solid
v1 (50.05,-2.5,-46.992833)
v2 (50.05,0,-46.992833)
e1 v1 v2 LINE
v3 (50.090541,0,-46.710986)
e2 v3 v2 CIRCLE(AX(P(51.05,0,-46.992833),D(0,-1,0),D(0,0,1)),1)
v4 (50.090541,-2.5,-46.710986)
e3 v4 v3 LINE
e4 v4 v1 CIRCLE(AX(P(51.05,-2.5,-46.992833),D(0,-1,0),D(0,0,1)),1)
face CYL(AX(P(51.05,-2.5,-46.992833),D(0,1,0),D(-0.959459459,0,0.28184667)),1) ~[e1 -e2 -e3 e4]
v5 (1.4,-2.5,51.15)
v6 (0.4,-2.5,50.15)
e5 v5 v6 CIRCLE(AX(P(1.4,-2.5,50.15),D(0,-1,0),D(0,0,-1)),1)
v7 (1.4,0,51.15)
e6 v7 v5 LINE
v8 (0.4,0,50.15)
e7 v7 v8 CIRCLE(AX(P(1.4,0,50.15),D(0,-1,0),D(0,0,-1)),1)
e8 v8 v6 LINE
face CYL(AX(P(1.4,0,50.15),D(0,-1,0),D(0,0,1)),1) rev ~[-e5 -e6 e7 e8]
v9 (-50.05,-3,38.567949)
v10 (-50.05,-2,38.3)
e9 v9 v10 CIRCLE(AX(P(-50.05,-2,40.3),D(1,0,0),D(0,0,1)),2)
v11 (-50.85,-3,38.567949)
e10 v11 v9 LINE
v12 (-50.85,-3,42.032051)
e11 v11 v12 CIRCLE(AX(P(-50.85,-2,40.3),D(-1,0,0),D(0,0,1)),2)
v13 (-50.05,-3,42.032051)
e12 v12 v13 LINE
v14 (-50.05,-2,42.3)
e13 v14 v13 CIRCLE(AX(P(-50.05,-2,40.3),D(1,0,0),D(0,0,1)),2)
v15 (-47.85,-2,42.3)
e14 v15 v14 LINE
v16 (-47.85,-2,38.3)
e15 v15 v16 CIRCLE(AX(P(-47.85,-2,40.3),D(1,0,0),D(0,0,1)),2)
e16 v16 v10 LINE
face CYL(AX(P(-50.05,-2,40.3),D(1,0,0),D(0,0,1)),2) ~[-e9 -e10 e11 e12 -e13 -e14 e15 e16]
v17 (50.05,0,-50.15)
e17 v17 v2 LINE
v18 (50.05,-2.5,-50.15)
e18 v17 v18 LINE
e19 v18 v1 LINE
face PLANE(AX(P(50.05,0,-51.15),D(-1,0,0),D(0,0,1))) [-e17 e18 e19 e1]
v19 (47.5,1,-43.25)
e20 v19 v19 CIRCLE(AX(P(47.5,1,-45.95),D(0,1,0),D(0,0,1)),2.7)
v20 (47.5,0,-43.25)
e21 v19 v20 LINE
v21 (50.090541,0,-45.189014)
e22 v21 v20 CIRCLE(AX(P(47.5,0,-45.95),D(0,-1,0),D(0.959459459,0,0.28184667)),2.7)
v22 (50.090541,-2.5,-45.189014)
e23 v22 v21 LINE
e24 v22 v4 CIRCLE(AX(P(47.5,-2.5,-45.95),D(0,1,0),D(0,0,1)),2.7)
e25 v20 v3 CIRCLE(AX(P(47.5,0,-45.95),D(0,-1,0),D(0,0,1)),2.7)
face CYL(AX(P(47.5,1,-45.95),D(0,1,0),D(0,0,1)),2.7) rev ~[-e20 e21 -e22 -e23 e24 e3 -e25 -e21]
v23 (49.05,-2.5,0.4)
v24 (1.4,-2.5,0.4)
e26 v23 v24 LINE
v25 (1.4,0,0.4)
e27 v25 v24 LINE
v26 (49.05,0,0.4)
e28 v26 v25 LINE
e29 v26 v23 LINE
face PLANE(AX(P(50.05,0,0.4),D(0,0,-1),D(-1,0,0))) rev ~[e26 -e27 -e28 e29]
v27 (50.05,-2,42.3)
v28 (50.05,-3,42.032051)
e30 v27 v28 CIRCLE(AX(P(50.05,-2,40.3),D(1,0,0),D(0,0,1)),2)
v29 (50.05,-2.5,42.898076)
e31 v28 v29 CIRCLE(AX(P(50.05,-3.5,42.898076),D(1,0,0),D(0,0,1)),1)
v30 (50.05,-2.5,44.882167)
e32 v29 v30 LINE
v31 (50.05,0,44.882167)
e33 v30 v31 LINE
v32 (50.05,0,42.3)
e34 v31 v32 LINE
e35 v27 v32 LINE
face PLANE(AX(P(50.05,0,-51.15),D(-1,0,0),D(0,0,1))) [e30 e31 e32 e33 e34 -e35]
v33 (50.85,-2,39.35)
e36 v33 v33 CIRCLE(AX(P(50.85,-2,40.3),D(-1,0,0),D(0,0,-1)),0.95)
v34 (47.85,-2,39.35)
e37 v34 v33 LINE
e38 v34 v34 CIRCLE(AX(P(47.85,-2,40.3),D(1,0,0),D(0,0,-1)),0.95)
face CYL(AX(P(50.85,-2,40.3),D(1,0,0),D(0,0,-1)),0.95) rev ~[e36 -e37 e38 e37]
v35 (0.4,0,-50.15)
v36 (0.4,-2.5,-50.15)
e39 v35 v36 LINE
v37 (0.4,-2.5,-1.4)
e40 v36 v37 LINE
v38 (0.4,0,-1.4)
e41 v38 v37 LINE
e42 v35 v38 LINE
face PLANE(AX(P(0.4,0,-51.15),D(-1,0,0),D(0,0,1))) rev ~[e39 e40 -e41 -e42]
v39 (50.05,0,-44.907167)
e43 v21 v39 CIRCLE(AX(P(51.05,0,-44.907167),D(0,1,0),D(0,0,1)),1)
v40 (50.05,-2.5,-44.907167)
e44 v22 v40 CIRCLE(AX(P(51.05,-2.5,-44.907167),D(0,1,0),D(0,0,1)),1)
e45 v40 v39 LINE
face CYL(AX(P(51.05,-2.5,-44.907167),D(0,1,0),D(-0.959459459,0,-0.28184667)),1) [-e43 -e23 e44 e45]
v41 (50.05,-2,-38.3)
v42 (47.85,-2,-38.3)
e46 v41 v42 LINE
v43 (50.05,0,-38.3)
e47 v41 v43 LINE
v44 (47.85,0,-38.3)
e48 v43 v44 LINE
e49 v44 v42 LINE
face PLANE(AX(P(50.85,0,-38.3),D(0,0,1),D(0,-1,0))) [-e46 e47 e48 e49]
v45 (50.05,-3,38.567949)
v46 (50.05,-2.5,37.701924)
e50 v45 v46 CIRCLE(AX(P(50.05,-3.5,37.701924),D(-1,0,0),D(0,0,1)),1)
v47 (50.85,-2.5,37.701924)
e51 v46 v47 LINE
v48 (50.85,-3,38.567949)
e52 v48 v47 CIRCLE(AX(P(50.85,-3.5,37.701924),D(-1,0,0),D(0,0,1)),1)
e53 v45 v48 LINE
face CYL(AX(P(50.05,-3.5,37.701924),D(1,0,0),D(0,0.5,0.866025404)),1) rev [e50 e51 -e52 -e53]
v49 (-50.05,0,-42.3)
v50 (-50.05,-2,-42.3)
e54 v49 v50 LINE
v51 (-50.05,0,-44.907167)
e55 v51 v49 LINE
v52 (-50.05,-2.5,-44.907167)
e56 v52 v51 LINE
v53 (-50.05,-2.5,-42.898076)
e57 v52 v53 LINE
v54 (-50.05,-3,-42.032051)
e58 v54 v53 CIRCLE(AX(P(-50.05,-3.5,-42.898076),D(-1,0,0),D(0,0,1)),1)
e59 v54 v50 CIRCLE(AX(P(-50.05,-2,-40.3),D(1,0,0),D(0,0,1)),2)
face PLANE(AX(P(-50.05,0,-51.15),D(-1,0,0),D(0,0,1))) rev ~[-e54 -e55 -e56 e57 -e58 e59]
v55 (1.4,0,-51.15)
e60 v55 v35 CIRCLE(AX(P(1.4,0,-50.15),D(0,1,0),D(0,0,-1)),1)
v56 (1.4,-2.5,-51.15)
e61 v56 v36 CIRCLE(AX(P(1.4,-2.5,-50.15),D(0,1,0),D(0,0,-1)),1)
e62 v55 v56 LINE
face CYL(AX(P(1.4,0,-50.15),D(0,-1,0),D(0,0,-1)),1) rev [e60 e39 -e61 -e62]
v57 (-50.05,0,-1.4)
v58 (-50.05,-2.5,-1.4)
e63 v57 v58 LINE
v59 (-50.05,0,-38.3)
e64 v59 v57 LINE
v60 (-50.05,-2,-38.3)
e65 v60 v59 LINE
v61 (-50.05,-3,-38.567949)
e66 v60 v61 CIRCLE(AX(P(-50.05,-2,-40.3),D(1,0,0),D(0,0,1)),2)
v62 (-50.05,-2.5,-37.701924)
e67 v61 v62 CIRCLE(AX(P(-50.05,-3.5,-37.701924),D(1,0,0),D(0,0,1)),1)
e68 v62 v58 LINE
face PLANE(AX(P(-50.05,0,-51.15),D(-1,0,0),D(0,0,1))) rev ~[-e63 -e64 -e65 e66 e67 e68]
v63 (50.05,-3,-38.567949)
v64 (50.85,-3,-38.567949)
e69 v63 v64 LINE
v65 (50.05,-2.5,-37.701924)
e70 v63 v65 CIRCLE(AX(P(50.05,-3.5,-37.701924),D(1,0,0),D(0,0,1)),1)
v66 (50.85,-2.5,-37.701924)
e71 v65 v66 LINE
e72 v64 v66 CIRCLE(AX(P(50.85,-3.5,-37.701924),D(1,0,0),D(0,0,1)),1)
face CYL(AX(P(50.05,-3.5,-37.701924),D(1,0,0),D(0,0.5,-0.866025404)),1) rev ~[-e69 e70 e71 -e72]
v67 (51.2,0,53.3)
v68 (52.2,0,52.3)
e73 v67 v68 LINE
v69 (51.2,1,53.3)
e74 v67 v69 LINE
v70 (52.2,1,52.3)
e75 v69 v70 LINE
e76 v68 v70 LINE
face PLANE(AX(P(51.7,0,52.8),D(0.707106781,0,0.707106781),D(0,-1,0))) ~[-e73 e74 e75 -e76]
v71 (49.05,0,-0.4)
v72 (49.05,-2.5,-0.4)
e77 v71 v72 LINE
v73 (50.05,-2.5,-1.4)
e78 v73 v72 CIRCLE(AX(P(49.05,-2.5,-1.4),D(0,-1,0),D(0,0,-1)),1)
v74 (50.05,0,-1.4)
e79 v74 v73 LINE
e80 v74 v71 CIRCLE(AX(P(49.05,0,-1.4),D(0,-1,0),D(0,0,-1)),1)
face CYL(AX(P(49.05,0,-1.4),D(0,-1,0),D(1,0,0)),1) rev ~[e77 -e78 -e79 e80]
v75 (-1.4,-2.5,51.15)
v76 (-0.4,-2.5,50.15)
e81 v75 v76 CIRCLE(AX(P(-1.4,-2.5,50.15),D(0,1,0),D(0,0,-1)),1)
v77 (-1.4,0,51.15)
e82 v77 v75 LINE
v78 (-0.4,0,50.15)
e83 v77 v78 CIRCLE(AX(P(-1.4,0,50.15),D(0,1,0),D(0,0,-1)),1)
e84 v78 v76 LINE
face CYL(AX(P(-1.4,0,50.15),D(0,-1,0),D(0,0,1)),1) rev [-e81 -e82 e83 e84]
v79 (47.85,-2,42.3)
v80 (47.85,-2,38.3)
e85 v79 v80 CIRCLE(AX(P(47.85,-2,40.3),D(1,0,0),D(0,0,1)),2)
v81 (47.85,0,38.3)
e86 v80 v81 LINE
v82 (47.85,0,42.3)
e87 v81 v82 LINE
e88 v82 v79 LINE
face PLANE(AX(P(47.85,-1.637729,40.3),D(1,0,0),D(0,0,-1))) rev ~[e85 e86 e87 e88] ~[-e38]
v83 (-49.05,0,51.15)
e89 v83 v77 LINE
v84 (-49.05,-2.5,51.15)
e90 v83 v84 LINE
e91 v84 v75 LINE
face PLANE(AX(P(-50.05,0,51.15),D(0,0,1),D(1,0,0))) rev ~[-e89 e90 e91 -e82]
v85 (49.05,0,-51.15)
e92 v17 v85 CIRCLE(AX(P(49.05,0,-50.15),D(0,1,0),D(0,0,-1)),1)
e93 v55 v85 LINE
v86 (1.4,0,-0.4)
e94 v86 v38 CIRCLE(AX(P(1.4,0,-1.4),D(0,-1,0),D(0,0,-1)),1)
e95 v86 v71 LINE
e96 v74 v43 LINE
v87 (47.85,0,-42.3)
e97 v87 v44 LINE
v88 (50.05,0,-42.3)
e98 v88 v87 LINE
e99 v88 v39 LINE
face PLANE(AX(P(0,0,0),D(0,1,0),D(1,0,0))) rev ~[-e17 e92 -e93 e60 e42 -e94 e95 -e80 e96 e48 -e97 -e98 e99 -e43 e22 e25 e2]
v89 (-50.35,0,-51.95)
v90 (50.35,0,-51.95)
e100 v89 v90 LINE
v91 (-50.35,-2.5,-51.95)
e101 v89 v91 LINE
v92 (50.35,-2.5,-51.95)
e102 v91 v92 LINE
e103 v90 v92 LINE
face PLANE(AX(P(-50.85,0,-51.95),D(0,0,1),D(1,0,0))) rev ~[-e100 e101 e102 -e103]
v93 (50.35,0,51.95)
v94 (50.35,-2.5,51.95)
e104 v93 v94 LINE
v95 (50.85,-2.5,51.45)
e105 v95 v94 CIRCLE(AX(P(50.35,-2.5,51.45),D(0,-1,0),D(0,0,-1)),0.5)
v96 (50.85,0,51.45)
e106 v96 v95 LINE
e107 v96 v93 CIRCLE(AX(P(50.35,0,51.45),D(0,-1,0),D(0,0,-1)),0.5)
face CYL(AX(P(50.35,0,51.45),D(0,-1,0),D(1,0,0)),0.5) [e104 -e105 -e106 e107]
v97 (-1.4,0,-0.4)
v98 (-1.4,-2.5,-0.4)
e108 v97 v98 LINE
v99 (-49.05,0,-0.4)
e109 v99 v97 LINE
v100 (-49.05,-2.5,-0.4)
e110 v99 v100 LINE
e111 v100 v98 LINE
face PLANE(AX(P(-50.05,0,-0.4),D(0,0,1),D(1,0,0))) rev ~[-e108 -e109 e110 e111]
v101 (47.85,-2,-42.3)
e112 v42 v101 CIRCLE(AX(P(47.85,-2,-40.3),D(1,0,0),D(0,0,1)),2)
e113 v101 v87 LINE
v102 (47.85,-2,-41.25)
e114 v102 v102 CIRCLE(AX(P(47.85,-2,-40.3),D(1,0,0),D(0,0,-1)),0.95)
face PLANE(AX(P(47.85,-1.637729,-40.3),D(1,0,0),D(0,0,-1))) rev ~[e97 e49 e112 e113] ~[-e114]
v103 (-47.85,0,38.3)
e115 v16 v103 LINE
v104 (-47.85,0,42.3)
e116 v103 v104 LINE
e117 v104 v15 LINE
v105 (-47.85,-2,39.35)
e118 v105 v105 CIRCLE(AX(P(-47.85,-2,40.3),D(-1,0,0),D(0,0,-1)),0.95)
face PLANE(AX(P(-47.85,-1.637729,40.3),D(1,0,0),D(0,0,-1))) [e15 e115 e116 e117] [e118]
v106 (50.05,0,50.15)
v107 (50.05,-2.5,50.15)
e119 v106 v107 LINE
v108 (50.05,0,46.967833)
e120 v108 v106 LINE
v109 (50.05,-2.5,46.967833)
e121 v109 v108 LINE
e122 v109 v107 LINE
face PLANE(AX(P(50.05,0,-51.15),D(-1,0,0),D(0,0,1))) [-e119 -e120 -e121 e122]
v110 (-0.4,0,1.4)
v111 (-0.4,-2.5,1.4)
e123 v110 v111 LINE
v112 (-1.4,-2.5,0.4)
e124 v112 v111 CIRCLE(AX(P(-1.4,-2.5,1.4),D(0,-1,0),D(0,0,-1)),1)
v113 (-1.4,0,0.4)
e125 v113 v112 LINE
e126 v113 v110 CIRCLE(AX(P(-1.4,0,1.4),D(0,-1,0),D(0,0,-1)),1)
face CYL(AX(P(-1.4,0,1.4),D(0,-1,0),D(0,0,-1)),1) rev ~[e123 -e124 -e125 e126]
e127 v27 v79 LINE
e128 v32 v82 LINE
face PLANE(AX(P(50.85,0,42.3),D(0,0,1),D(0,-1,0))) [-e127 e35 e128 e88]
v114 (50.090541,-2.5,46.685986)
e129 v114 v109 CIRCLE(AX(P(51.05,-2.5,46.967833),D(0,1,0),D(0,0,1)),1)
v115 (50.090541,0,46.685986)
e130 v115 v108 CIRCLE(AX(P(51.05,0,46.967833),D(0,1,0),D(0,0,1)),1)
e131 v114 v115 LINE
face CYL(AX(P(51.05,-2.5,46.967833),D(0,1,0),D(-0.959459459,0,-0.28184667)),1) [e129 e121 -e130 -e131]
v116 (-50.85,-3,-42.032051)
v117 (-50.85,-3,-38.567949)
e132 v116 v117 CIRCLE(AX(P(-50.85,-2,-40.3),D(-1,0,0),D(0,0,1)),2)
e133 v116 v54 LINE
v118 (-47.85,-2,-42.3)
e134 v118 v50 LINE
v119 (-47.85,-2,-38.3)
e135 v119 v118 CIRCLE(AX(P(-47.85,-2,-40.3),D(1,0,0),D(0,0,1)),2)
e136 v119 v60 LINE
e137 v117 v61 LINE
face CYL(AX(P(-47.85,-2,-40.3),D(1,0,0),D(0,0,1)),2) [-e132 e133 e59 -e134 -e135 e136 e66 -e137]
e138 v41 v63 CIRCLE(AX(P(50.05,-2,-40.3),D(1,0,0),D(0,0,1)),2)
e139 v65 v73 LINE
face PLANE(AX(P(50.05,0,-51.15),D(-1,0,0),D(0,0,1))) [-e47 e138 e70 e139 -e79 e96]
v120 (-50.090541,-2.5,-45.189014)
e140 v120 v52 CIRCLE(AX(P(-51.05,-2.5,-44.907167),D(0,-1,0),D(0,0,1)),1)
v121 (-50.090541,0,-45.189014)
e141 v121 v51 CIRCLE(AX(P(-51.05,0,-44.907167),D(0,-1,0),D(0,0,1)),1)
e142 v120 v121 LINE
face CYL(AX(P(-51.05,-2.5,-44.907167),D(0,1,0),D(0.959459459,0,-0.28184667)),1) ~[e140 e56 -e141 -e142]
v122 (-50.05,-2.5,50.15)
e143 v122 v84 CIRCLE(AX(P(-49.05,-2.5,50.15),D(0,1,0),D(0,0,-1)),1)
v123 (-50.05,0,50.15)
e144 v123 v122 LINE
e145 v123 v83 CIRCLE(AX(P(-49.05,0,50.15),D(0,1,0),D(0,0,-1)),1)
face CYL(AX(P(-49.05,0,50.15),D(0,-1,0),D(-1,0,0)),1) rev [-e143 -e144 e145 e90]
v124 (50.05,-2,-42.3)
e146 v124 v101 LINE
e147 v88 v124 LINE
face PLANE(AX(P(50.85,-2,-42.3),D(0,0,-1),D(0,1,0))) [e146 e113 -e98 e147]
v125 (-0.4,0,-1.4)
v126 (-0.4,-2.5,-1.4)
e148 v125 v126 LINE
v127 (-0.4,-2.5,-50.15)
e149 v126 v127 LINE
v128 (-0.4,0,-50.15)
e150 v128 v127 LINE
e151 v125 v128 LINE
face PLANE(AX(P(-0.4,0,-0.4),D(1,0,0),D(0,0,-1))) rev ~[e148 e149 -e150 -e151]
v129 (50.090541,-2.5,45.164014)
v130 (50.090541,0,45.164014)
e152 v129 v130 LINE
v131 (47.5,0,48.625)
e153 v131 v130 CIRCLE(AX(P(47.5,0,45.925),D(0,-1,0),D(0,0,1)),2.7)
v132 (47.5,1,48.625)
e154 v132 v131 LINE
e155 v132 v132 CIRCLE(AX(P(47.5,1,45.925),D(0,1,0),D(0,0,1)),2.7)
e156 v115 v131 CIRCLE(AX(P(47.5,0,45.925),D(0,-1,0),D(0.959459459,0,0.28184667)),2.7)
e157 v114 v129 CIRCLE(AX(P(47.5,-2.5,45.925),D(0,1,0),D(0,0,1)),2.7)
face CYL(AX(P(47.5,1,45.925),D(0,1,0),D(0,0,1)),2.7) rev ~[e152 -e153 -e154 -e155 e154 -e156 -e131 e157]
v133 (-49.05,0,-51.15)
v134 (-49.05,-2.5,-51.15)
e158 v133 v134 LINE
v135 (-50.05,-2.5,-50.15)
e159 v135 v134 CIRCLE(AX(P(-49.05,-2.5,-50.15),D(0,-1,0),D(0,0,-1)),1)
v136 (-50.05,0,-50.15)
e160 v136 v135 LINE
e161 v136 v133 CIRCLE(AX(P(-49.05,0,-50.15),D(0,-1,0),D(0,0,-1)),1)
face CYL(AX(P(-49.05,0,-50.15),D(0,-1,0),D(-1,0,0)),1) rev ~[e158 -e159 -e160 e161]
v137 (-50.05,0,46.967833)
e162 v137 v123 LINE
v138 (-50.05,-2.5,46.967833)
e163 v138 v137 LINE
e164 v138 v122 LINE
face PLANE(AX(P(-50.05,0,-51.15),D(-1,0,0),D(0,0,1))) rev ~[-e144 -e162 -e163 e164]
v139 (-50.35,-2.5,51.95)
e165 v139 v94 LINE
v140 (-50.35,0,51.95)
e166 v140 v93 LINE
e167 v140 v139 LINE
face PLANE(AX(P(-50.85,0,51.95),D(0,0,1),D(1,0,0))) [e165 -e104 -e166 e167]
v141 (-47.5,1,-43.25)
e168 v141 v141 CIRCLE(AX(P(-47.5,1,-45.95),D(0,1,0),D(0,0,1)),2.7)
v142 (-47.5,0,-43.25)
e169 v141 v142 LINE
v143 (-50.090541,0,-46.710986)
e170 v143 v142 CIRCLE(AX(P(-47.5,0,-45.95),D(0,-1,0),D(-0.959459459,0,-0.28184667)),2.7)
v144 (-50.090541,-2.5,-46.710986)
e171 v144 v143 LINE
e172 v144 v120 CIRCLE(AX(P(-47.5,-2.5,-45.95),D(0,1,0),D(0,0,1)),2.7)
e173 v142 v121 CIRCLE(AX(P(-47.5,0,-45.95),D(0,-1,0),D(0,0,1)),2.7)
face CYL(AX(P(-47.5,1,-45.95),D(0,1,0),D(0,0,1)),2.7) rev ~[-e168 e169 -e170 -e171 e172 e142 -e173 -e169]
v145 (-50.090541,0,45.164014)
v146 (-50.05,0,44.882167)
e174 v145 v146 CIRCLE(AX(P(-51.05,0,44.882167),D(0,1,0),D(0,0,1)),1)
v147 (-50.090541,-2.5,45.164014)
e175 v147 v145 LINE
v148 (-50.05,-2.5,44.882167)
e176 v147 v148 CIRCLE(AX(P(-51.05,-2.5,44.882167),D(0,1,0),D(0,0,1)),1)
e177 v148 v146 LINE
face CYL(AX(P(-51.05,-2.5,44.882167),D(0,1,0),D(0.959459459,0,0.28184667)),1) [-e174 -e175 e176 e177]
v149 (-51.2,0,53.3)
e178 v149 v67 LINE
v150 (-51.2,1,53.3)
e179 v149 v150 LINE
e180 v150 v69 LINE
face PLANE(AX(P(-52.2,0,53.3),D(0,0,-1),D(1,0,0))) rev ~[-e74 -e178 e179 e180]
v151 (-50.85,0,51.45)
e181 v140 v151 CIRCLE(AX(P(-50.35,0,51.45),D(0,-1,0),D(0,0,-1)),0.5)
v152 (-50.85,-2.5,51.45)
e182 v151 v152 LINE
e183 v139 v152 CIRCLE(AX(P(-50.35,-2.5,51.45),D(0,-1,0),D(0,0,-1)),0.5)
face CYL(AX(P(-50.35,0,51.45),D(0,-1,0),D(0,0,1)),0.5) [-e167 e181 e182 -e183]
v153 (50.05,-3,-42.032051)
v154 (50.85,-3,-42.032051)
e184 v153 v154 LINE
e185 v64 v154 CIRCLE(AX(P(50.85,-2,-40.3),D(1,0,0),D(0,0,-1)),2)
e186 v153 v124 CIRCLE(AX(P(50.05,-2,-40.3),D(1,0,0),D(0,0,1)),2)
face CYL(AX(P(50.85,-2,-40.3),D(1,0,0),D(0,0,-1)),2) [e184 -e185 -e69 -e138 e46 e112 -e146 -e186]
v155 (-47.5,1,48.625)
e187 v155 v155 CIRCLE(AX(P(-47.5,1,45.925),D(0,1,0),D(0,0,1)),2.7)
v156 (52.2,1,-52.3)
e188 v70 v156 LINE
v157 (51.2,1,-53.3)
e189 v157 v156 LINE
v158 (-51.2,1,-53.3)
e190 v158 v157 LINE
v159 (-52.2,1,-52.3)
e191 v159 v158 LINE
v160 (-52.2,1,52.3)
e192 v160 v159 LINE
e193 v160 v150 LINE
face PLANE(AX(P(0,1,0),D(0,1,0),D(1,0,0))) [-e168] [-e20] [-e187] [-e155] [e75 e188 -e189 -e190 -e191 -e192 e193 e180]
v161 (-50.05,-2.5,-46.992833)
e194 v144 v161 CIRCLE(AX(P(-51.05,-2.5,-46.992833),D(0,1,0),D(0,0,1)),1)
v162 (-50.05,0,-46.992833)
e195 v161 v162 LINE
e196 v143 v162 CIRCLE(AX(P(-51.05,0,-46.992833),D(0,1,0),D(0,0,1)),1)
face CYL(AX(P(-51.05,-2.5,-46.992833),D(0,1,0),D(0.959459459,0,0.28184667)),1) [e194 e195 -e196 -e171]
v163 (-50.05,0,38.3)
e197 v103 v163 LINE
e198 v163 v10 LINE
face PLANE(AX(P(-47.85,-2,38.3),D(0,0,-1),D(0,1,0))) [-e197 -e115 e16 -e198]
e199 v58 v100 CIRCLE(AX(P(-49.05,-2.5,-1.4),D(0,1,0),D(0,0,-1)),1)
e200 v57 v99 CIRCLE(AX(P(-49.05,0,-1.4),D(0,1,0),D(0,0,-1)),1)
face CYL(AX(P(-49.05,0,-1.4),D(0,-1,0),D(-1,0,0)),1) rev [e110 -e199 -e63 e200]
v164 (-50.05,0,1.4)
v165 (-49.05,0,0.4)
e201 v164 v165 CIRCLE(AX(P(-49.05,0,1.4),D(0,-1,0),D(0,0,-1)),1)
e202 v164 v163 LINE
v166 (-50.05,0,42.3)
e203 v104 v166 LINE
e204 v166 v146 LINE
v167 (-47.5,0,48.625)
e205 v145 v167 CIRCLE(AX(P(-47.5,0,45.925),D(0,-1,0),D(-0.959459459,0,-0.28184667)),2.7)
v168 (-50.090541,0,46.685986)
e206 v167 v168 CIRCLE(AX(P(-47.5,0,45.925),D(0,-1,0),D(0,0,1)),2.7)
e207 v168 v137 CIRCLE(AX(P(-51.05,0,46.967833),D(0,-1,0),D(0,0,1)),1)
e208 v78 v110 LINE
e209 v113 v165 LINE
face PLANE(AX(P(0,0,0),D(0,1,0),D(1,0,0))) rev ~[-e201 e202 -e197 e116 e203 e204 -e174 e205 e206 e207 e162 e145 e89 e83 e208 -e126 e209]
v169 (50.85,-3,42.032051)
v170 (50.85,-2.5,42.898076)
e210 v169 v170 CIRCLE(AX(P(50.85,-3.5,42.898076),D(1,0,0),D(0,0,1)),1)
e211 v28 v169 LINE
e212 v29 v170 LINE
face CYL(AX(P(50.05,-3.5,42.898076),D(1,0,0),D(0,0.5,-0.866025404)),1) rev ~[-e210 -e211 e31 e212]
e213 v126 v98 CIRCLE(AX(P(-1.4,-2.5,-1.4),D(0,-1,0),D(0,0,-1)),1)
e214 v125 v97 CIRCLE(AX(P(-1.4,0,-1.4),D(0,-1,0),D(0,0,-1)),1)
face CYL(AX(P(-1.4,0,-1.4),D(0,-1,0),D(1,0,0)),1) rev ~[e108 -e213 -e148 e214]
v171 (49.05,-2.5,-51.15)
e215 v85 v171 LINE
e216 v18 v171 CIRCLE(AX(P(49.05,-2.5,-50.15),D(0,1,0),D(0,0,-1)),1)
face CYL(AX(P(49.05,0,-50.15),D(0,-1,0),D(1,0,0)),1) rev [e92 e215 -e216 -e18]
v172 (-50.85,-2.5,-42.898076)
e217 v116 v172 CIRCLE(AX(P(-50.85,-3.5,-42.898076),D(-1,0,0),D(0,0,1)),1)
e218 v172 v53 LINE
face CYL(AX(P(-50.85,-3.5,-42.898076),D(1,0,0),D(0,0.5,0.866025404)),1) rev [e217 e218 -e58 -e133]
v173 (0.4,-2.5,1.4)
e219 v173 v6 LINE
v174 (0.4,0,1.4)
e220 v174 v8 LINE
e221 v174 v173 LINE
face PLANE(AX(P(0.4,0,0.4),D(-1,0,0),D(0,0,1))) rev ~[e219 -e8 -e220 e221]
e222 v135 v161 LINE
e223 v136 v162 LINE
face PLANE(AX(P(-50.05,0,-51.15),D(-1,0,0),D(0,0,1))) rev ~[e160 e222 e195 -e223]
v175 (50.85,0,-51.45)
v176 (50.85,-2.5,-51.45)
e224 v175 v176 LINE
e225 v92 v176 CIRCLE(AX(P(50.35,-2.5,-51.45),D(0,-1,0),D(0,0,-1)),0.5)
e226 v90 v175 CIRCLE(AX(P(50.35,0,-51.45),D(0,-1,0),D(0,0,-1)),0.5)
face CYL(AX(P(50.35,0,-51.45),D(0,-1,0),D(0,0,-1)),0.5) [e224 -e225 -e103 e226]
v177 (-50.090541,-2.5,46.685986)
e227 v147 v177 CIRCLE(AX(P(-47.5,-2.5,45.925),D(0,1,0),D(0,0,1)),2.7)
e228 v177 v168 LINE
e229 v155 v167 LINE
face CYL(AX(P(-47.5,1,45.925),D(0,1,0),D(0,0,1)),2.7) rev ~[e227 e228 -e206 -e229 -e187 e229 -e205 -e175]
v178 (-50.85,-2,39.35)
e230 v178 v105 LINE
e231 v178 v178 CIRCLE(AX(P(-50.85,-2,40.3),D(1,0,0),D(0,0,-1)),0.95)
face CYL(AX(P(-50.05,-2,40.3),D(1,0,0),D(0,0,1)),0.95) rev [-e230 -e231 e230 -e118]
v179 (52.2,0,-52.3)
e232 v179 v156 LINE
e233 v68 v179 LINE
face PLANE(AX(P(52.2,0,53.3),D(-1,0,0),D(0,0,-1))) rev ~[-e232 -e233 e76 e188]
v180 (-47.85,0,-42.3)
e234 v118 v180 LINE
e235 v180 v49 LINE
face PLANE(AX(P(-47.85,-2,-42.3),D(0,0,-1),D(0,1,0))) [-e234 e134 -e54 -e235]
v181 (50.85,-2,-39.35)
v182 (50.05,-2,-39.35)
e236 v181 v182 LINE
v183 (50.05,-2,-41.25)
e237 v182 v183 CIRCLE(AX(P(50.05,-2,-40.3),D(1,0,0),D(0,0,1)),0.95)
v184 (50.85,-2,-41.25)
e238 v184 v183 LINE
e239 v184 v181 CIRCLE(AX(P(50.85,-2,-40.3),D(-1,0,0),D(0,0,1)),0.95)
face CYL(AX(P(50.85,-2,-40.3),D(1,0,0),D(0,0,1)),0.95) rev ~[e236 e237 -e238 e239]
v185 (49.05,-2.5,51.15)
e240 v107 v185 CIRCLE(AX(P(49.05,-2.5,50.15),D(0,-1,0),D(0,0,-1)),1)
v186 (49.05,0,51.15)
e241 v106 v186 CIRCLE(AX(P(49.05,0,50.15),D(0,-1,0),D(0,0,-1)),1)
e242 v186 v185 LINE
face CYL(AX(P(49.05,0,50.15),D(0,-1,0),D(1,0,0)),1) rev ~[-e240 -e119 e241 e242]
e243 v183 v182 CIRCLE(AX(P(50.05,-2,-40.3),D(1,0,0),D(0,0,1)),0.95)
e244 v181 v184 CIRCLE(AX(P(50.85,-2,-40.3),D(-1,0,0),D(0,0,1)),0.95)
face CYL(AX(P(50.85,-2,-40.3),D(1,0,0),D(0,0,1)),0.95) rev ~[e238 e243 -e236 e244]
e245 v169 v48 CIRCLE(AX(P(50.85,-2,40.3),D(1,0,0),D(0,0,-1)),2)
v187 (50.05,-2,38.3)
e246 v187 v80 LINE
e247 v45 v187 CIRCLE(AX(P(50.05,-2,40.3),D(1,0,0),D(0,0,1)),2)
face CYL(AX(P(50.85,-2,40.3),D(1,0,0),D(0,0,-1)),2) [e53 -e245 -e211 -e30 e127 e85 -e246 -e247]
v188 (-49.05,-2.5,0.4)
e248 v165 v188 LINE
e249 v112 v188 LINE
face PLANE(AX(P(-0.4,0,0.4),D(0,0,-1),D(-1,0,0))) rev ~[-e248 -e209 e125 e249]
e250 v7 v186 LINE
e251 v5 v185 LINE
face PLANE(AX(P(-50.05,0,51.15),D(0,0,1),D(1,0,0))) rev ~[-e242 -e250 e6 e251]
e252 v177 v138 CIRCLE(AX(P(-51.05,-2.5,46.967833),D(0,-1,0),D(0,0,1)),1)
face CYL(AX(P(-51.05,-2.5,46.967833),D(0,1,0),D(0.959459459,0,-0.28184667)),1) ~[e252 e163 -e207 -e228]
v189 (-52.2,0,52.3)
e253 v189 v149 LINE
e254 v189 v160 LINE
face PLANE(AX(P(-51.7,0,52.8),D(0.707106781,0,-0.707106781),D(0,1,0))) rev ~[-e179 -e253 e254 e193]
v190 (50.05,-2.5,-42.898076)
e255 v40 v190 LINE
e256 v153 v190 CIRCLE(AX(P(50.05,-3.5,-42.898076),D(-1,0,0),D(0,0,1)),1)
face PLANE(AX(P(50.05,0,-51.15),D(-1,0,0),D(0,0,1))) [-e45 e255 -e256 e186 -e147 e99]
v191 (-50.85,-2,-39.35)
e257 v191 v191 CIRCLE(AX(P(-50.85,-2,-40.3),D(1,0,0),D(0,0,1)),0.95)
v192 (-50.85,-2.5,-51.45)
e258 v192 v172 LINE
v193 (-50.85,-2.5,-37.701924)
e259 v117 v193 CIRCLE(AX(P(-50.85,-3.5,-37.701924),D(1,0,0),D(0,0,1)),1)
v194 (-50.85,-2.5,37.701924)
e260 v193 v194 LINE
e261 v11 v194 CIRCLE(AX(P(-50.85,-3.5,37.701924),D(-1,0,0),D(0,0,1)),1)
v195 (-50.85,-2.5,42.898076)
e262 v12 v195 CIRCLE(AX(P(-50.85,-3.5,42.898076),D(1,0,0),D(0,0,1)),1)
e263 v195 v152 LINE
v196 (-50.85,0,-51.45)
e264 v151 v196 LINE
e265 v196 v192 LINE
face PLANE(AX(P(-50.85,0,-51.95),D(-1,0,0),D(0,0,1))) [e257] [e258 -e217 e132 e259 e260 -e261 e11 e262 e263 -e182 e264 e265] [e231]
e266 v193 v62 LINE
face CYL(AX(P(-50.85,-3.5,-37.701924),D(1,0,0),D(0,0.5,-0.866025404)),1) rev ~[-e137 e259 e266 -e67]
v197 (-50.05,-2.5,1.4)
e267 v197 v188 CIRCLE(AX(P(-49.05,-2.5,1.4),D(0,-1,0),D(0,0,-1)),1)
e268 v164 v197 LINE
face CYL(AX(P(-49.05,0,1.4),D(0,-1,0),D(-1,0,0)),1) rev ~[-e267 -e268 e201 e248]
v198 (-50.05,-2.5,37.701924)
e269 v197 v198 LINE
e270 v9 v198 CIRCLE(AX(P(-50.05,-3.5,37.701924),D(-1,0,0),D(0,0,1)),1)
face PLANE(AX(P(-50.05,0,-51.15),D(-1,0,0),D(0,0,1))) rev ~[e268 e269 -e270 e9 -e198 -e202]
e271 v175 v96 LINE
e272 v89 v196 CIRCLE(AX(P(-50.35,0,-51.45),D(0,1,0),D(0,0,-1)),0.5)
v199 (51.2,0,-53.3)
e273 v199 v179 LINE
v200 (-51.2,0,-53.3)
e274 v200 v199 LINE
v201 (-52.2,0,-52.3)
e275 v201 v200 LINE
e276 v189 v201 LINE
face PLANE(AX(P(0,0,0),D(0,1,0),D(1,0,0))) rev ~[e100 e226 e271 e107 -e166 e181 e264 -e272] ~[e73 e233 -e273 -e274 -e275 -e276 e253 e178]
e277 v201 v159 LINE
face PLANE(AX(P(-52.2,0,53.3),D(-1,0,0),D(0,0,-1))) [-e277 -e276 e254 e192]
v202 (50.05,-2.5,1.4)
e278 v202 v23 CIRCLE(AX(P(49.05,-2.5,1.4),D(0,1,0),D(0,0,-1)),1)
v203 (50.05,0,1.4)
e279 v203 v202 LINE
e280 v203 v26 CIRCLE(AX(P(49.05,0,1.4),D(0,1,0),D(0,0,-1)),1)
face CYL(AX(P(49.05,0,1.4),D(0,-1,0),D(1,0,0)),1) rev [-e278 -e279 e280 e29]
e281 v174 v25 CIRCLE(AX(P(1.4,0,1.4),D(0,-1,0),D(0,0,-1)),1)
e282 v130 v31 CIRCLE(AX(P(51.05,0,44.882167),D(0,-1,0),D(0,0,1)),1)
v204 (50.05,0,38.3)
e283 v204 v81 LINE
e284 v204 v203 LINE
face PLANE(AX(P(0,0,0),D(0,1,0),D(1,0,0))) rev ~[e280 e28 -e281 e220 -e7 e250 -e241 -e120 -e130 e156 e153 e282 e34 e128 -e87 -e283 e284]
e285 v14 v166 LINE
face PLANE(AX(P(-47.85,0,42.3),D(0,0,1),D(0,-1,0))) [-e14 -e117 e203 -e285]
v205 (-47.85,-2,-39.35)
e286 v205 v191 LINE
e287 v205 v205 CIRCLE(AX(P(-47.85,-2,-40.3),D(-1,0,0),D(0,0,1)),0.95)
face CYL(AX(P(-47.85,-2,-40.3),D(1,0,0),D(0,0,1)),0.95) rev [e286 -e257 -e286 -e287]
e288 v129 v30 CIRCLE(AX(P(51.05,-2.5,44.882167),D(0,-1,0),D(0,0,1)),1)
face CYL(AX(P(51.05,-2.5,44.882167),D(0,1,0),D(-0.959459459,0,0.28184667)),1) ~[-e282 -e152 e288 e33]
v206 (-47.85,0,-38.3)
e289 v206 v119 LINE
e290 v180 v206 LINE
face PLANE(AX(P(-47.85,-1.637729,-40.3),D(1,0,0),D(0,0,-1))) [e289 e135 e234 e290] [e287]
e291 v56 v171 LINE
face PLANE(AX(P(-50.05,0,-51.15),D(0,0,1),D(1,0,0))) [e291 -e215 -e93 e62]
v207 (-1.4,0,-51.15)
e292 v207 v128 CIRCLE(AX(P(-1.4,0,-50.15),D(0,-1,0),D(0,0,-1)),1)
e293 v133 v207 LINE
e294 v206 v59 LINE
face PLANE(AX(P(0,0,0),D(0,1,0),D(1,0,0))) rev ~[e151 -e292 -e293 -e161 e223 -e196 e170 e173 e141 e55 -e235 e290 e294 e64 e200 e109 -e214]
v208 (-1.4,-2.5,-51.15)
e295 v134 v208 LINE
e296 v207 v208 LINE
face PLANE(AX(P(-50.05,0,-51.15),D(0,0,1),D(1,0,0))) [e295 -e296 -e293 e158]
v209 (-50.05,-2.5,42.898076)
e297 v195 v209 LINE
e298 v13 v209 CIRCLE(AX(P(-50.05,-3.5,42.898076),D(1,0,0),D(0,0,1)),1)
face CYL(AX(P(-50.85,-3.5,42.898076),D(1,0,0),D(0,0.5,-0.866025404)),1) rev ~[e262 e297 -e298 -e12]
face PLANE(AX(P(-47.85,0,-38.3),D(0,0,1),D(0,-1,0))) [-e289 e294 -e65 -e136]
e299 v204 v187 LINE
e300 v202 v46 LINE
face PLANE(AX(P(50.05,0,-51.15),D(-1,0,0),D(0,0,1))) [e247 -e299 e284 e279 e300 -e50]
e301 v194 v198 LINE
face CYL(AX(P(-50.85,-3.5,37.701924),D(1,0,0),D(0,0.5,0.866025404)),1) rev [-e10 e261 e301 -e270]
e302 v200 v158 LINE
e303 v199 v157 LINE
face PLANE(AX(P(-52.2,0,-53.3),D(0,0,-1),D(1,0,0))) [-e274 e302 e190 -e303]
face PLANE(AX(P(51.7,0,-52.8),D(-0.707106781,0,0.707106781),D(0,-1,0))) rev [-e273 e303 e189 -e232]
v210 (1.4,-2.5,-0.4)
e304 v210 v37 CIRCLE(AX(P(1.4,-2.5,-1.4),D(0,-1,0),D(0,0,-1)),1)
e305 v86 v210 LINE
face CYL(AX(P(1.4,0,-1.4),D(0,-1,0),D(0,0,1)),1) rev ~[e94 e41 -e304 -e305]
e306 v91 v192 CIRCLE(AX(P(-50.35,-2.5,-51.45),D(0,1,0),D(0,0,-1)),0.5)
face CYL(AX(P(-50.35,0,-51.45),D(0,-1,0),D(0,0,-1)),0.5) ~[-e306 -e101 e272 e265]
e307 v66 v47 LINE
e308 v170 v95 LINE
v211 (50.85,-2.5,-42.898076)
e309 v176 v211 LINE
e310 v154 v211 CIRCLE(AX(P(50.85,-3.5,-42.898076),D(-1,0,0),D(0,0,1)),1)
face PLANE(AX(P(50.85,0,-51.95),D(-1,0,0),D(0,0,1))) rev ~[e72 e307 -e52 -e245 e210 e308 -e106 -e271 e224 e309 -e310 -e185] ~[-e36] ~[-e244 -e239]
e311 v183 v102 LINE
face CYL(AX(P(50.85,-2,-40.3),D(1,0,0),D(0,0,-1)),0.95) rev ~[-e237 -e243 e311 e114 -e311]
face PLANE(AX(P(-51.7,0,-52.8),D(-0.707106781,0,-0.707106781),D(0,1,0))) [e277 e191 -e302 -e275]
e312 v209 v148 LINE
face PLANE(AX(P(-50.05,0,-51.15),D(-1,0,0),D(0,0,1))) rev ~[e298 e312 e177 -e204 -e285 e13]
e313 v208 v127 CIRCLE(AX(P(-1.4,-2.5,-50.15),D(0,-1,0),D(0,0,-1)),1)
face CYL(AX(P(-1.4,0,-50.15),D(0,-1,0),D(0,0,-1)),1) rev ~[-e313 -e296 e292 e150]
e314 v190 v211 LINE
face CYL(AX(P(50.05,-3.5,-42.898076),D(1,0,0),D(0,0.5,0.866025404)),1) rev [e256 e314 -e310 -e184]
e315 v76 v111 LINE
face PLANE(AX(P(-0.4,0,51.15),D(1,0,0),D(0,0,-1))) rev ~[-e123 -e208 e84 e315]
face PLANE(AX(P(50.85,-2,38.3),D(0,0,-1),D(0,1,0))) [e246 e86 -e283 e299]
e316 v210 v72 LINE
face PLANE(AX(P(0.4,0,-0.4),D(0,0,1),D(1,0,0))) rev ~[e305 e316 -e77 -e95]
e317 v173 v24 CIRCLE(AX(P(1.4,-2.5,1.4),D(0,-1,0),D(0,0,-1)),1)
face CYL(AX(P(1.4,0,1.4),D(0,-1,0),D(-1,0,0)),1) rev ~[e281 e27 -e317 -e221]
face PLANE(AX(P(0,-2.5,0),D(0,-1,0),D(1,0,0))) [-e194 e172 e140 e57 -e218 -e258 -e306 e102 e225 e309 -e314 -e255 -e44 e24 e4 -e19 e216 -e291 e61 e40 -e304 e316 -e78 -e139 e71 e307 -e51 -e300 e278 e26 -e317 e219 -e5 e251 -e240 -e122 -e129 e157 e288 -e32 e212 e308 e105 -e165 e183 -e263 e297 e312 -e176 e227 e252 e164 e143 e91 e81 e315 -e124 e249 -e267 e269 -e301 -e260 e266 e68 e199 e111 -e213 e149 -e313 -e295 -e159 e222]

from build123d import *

# Parameters (mm, degrees)
SKETCH_1_W          = 104.4
SKETCH_1_H          = 106.6
EXTRUDE_1_DEPTH     = 1
SKETCH_2_W          = 101.7
SKETCH_2_H          = 103.9
SKETCH_2_W_2        = 100.1
SKETCH_2_H_2        = 102.3
EXTRUDE_2_DEPTH     = 2.5
SKETCH_4_R          = 2.7
CUT_EXTRUDE_1_DEPTH = 75.685875505
EXTRUDE_3_DEPTH     = 2.5
FILLET_1_R          = 1
FILLET_2_R          = 0.5
CHAMFER_1_SIZE      = 1
SKETCH_6_R          = 2
SKETCH_6_R_2        = 0.95
EXTRUDE_4_DEPTH     = 0.8
EXTRUDE_START       = -0.8
SKETCH_7_R          = 2
SKETCH_7_R_2        = 0.95
EXTRUDE_5_DEPTH     = 0.8
SKETCH_8_R          = 0.95
CUT_EXTRUDE_2_DEPTH = 0.8
CUT_EXTRUDE_START   = -0.8
SKETCH_9_R          = 0.95
CUT_EXTRUDE_3_DEPTH = 0.8
FILLET_3_R          = 1
EXTRUDE_START_2     = -3
SKETCH_10_R         = 0.95
EXTRUDE_6_DEPTH     = 3
SKETCH_11_R         = 0.95
EXTRUDE_7_DEPTH     = 3


with BuildPart() as part:
    # 草图1 → 凸台-拉伸1 (new body)
    with BuildSketch(Plane(origin=(0, 0, 0), x_dir=(1, 0, 0), z_dir=(0, 1, 0))):
        Rectangle(SKETCH_1_W, SKETCH_1_H)
    extrude(amount=EXTRUDE_1_DEPTH)

    # 草图2 → 凸台-拉伸2 (add)
    with BuildSketch(Plane.XZ):
        Rectangle(SKETCH_2_W, SKETCH_2_H)
        Rectangle(SKETCH_2_W_2, SKETCH_2_H_2, mode=Mode.SUBTRACT)
    extrude(amount=EXTRUDE_2_DEPTH)

    # 草图4 → 切除-拉伸1 (cut, through all)
    with BuildSketch(Plane(origin=(0, 1, 0), x_dir=(1, 0, 0), z_dir=(0, 1, 0))):
        with Locations(Location((47.5, 45.95, 0), (0, 0, 270))):
            Circle(SKETCH_4_R)
        with Locations(Location((-47.5, 45.95, 0), (0, 0, 270))):
            Circle(SKETCH_4_R)
        with Locations(Location((-47.5, -45.925, 0), (0, 0, 270))):
            Circle(SKETCH_4_R)
        with Locations(Location((47.5, -45.925, 0), (0, 0, 270))):
            Circle(SKETCH_4_R)
    extrude(amount=-CUT_EXTRUDE_1_DEPTH, mode=Mode.SUBTRACT)

    # 草图5 → 凸台-拉伸3 (add)
    with BuildSketch(Plane.XZ):
        Polygon((0.4, 51.15), (-0.4, 51.15), (-0.4, 0.4), (-50.05, 0.4), (-50.05, -0.4), (-0.4, -0.4), (-0.4, -51.15), (0.4, -51.15), (0.4, -0.4), (50.05, -0.4), (50.05, 0.4), (0.4, 0.4), align=None)
    extrude(amount=EXTRUDE_3_DEPTH)

    # 圆角1
    fillet_1_edges = [part.edges().sort_by_distance(p)[0] for p in [
        (-0.4, -1.25, 0.4),
        (-50.05, -1.25, 0.4),
        (-50.05, -1.25, -0.4),
        (50.05, -1.25, -0.4),
        (0.4, -1.25, 0.4),
        (50.05, -1.25, 0.4),
        (0.4, -1.25, -0.4),
        (0.4, -1.25, -51.15),
        (-0.4, -1.25, -51.15),
        (-0.4, -1.25, -0.4),
        (0.4, -1.25, 51.15),
        (-0.4, -1.25, 51.15),
        (50.05, -1.25, -51.15),
        (50.05, -1.25, 51.15),
        (-50.05, -1.25, 51.15),
        (-50.05, -1.25, -51.15),
        (50.05, -1.25, 46.812411967),
        (50.05, -1.25, 45.037588033),
        (-50.05, -1.25, 45.037588033),
        (-50.05, -1.25, 46.812411967),
        (-50.05, -1.25, -46.837411967),
        (-50.05, -1.25, -45.062588033),
        (50.05, -1.25, -45.062588033),
        (50.05, -1.25, -46.837411967),
    ]]
    fillet(fillet_1_edges, radius=FILLET_1_R)

    # 圆角2
    fillet_2_edges = [part.edges().sort_by_distance(p)[0] for p in [
        (-50.85, -1.25, -51.95),
        (50.85, -1.25, -51.95),
        (50.85, -1.25, 51.95),
        (-50.85, -1.25, 51.95),
    ]]
    fillet(fillet_2_edges, radius=FILLET_2_R)

    # 倒角1
    chamfer_1_edges = [part.edges().sort_by_distance(p)[0] for p in [
        (52.2, 0.5, 53.3),
        (-52.2, 0.5, 53.3),
        (-52.2, 0.5, -53.3),
        (52.2, 0.5, -53.3),
    ]]
    chamfer(chamfer_1_edges, length=CHAMFER_1_SIZE)

    # 草图6 → 凸台-拉伸4 (add)
    # profile 1 of 2: a face of its own
    with BuildSketch(Plane(origin=(50.85, 0, 0), x_dir=(0, 0, -1), z_dir=(1, 0, 0))):
        with Locations((-40.3, -2)):
            Circle(SKETCH_6_R)
        with Locations((-40.3, -2)):
            Circle(SKETCH_6_R_2, mode=Mode.SUBTRACT)
    # profile 2 of 2: a face of its own
    with BuildSketch(Plane(origin=(50.85, 0, 0), x_dir=(0, 0, -1), z_dir=(1, 0, 0))):
        with Locations((40.3, -2)):
            Circle(SKETCH_6_R)
        with Locations((40.3, -2)):
            Circle(SKETCH_6_R_2, mode=Mode.SUBTRACT)
    extrude(amount=-EXTRUDE_4_DEPTH)

    # 草图7 → 凸台-拉伸5 (add)
    # profile 1 of 2: a face of its own
    with BuildSketch(Plane.ZY.offset(50.85).offset(EXTRUDE_START)):
        with Locations((-40.3, -2)):
            Circle(SKETCH_7_R)
        with Locations((-40.3, -2)):
            Circle(SKETCH_7_R_2, mode=Mode.SUBTRACT)
    # profile 2 of 2: a face of its own
    with BuildSketch(Plane.ZY.offset(50.85).offset(EXTRUDE_START)):
        with Locations((40.3, -2)):
            Circle(SKETCH_7_R)
        with Locations((40.3, -2)):
            Circle(SKETCH_7_R_2, mode=Mode.SUBTRACT)
    extrude(amount=EXTRUDE_5_DEPTH)

    # 草图8 → 切除-拉伸2 (cut)
    with BuildSketch(Plane(origin=(50.85, 0, 0), x_dir=(0, 0, -1), z_dir=(1, 0, 0))):
        with Locations(Location((40.3, -2, 0), (0, 0, 180))):
            Circle(SKETCH_8_R)
        with Locations((-40.3, -2)):
            Circle(SKETCH_8_R)
    extrude(amount=-CUT_EXTRUDE_2_DEPTH, mode=Mode.SUBTRACT)

    # 草图9 → 切除-拉伸3 (cut)
    with BuildSketch(Plane.ZY.offset(50.85).offset(CUT_EXTRUDE_START)):
        with Locations(Location((40.3, -2, 0), (0, 0, 180))):
            Circle(SKETCH_9_R)
        with Locations((-40.3, -2)):
            Circle(SKETCH_9_R)
    extrude(amount=CUT_EXTRUDE_3_DEPTH, mode=Mode.SUBTRACT)

    # 圆角3
    fillet_3_edges = [part.edges().sort_by_distance(p)[0] for p in [
        (50.45, -2.5, 38.363508327),
        (50.45, -2.5, 42.236491673),
        (50.45, -2.5, -42.236491673),
        (50.45, -2.5, -38.363508327),
        (-50.45, -2.5, -38.363508327),
        (-50.45, -2.5, -42.236491673),
        (-50.45, -2.5, 42.236491673),
        (-50.45, -2.5, 38.363508327),
    ]]
    fillet(fillet_3_edges, radius=FILLET_3_R)

    # 草图10 → 凸台-拉伸6 (add)
    # profile 1 of 2: a face of its own
    with BuildSketch(Plane.ZY.offset(50.85).offset(EXTRUDE_START_2)):
        with BuildLine():
            Line((-42.3, -2), (-42.3, 0))
            Line((-42.3, 0), (-38.3, 0))
            Line((-38.3, 0), (-38.3, -2))
            ThreePointArc((-38.3, -2), (-40.3, -4), (-42.3, -2))
        make_face()
        with Locations((-40.3, -2)):
            Circle(SKETCH_10_R, mode=Mode.SUBTRACT)
    # profile 2 of 2: a face of its own
    with BuildSketch(Plane.ZY.offset(50.85).offset(EXTRUDE_START_2)):
        with BuildLine():
            Line((38.3, -2), (38.3, 0))
            Line((38.3, 0), (42.3, 0))
            Line((42.3, 0), (42.3, -2))
            ThreePointArc((42.3, -2), (40.3, -4), (38.3, -2))
        make_face()
        with Locations(Location((40.3, -2, 0), (0, 0, 180))):
            Circle(SKETCH_10_R, mode=Mode.SUBTRACT)
    extrude(amount=EXTRUDE_6_DEPTH)

    # 草图11 → 凸台-拉伸7 (add)
    # profile 1 of 2: a face of its own
    with BuildSketch(Plane(origin=(50.85, 0, 0), x_dir=(0, 0, -1), z_dir=(1, 0, 0))):
        with BuildLine():
            Line((-38.3, -2), (-38.3, 0))
            Line((-38.3, 0), (-42.3, 0))
            Line((-42.3, 0), (-42.3, -2))
            ThreePointArc((-42.3, -2), (-40.3, -4), (-38.3, -2))
        make_face()
        with Locations((-40.3, -2)):
            Circle(SKETCH_11_R, mode=Mode.SUBTRACT)
    # profile 2 of 2: a face of its own
    with BuildSketch(Plane(origin=(50.85, 0, 0), x_dir=(0, 0, -1), z_dir=(1, 0, 0))):
        with BuildLine():
            Line((42.3, -2), (42.3, 0))
            Line((42.3, 0), (38.3, 0))
            Line((38.3, 0), (38.3, -2))
            ThreePointArc((38.3, -2), (40.3, -4), (42.3, -2))
        make_face()
        with Locations((40.3, -2)):
            Circle(SKETCH_11_R, mode=Mode.SUBTRACT)
    extrude(amount=-EXTRUDE_7_DEPTH)


solid = part.part
